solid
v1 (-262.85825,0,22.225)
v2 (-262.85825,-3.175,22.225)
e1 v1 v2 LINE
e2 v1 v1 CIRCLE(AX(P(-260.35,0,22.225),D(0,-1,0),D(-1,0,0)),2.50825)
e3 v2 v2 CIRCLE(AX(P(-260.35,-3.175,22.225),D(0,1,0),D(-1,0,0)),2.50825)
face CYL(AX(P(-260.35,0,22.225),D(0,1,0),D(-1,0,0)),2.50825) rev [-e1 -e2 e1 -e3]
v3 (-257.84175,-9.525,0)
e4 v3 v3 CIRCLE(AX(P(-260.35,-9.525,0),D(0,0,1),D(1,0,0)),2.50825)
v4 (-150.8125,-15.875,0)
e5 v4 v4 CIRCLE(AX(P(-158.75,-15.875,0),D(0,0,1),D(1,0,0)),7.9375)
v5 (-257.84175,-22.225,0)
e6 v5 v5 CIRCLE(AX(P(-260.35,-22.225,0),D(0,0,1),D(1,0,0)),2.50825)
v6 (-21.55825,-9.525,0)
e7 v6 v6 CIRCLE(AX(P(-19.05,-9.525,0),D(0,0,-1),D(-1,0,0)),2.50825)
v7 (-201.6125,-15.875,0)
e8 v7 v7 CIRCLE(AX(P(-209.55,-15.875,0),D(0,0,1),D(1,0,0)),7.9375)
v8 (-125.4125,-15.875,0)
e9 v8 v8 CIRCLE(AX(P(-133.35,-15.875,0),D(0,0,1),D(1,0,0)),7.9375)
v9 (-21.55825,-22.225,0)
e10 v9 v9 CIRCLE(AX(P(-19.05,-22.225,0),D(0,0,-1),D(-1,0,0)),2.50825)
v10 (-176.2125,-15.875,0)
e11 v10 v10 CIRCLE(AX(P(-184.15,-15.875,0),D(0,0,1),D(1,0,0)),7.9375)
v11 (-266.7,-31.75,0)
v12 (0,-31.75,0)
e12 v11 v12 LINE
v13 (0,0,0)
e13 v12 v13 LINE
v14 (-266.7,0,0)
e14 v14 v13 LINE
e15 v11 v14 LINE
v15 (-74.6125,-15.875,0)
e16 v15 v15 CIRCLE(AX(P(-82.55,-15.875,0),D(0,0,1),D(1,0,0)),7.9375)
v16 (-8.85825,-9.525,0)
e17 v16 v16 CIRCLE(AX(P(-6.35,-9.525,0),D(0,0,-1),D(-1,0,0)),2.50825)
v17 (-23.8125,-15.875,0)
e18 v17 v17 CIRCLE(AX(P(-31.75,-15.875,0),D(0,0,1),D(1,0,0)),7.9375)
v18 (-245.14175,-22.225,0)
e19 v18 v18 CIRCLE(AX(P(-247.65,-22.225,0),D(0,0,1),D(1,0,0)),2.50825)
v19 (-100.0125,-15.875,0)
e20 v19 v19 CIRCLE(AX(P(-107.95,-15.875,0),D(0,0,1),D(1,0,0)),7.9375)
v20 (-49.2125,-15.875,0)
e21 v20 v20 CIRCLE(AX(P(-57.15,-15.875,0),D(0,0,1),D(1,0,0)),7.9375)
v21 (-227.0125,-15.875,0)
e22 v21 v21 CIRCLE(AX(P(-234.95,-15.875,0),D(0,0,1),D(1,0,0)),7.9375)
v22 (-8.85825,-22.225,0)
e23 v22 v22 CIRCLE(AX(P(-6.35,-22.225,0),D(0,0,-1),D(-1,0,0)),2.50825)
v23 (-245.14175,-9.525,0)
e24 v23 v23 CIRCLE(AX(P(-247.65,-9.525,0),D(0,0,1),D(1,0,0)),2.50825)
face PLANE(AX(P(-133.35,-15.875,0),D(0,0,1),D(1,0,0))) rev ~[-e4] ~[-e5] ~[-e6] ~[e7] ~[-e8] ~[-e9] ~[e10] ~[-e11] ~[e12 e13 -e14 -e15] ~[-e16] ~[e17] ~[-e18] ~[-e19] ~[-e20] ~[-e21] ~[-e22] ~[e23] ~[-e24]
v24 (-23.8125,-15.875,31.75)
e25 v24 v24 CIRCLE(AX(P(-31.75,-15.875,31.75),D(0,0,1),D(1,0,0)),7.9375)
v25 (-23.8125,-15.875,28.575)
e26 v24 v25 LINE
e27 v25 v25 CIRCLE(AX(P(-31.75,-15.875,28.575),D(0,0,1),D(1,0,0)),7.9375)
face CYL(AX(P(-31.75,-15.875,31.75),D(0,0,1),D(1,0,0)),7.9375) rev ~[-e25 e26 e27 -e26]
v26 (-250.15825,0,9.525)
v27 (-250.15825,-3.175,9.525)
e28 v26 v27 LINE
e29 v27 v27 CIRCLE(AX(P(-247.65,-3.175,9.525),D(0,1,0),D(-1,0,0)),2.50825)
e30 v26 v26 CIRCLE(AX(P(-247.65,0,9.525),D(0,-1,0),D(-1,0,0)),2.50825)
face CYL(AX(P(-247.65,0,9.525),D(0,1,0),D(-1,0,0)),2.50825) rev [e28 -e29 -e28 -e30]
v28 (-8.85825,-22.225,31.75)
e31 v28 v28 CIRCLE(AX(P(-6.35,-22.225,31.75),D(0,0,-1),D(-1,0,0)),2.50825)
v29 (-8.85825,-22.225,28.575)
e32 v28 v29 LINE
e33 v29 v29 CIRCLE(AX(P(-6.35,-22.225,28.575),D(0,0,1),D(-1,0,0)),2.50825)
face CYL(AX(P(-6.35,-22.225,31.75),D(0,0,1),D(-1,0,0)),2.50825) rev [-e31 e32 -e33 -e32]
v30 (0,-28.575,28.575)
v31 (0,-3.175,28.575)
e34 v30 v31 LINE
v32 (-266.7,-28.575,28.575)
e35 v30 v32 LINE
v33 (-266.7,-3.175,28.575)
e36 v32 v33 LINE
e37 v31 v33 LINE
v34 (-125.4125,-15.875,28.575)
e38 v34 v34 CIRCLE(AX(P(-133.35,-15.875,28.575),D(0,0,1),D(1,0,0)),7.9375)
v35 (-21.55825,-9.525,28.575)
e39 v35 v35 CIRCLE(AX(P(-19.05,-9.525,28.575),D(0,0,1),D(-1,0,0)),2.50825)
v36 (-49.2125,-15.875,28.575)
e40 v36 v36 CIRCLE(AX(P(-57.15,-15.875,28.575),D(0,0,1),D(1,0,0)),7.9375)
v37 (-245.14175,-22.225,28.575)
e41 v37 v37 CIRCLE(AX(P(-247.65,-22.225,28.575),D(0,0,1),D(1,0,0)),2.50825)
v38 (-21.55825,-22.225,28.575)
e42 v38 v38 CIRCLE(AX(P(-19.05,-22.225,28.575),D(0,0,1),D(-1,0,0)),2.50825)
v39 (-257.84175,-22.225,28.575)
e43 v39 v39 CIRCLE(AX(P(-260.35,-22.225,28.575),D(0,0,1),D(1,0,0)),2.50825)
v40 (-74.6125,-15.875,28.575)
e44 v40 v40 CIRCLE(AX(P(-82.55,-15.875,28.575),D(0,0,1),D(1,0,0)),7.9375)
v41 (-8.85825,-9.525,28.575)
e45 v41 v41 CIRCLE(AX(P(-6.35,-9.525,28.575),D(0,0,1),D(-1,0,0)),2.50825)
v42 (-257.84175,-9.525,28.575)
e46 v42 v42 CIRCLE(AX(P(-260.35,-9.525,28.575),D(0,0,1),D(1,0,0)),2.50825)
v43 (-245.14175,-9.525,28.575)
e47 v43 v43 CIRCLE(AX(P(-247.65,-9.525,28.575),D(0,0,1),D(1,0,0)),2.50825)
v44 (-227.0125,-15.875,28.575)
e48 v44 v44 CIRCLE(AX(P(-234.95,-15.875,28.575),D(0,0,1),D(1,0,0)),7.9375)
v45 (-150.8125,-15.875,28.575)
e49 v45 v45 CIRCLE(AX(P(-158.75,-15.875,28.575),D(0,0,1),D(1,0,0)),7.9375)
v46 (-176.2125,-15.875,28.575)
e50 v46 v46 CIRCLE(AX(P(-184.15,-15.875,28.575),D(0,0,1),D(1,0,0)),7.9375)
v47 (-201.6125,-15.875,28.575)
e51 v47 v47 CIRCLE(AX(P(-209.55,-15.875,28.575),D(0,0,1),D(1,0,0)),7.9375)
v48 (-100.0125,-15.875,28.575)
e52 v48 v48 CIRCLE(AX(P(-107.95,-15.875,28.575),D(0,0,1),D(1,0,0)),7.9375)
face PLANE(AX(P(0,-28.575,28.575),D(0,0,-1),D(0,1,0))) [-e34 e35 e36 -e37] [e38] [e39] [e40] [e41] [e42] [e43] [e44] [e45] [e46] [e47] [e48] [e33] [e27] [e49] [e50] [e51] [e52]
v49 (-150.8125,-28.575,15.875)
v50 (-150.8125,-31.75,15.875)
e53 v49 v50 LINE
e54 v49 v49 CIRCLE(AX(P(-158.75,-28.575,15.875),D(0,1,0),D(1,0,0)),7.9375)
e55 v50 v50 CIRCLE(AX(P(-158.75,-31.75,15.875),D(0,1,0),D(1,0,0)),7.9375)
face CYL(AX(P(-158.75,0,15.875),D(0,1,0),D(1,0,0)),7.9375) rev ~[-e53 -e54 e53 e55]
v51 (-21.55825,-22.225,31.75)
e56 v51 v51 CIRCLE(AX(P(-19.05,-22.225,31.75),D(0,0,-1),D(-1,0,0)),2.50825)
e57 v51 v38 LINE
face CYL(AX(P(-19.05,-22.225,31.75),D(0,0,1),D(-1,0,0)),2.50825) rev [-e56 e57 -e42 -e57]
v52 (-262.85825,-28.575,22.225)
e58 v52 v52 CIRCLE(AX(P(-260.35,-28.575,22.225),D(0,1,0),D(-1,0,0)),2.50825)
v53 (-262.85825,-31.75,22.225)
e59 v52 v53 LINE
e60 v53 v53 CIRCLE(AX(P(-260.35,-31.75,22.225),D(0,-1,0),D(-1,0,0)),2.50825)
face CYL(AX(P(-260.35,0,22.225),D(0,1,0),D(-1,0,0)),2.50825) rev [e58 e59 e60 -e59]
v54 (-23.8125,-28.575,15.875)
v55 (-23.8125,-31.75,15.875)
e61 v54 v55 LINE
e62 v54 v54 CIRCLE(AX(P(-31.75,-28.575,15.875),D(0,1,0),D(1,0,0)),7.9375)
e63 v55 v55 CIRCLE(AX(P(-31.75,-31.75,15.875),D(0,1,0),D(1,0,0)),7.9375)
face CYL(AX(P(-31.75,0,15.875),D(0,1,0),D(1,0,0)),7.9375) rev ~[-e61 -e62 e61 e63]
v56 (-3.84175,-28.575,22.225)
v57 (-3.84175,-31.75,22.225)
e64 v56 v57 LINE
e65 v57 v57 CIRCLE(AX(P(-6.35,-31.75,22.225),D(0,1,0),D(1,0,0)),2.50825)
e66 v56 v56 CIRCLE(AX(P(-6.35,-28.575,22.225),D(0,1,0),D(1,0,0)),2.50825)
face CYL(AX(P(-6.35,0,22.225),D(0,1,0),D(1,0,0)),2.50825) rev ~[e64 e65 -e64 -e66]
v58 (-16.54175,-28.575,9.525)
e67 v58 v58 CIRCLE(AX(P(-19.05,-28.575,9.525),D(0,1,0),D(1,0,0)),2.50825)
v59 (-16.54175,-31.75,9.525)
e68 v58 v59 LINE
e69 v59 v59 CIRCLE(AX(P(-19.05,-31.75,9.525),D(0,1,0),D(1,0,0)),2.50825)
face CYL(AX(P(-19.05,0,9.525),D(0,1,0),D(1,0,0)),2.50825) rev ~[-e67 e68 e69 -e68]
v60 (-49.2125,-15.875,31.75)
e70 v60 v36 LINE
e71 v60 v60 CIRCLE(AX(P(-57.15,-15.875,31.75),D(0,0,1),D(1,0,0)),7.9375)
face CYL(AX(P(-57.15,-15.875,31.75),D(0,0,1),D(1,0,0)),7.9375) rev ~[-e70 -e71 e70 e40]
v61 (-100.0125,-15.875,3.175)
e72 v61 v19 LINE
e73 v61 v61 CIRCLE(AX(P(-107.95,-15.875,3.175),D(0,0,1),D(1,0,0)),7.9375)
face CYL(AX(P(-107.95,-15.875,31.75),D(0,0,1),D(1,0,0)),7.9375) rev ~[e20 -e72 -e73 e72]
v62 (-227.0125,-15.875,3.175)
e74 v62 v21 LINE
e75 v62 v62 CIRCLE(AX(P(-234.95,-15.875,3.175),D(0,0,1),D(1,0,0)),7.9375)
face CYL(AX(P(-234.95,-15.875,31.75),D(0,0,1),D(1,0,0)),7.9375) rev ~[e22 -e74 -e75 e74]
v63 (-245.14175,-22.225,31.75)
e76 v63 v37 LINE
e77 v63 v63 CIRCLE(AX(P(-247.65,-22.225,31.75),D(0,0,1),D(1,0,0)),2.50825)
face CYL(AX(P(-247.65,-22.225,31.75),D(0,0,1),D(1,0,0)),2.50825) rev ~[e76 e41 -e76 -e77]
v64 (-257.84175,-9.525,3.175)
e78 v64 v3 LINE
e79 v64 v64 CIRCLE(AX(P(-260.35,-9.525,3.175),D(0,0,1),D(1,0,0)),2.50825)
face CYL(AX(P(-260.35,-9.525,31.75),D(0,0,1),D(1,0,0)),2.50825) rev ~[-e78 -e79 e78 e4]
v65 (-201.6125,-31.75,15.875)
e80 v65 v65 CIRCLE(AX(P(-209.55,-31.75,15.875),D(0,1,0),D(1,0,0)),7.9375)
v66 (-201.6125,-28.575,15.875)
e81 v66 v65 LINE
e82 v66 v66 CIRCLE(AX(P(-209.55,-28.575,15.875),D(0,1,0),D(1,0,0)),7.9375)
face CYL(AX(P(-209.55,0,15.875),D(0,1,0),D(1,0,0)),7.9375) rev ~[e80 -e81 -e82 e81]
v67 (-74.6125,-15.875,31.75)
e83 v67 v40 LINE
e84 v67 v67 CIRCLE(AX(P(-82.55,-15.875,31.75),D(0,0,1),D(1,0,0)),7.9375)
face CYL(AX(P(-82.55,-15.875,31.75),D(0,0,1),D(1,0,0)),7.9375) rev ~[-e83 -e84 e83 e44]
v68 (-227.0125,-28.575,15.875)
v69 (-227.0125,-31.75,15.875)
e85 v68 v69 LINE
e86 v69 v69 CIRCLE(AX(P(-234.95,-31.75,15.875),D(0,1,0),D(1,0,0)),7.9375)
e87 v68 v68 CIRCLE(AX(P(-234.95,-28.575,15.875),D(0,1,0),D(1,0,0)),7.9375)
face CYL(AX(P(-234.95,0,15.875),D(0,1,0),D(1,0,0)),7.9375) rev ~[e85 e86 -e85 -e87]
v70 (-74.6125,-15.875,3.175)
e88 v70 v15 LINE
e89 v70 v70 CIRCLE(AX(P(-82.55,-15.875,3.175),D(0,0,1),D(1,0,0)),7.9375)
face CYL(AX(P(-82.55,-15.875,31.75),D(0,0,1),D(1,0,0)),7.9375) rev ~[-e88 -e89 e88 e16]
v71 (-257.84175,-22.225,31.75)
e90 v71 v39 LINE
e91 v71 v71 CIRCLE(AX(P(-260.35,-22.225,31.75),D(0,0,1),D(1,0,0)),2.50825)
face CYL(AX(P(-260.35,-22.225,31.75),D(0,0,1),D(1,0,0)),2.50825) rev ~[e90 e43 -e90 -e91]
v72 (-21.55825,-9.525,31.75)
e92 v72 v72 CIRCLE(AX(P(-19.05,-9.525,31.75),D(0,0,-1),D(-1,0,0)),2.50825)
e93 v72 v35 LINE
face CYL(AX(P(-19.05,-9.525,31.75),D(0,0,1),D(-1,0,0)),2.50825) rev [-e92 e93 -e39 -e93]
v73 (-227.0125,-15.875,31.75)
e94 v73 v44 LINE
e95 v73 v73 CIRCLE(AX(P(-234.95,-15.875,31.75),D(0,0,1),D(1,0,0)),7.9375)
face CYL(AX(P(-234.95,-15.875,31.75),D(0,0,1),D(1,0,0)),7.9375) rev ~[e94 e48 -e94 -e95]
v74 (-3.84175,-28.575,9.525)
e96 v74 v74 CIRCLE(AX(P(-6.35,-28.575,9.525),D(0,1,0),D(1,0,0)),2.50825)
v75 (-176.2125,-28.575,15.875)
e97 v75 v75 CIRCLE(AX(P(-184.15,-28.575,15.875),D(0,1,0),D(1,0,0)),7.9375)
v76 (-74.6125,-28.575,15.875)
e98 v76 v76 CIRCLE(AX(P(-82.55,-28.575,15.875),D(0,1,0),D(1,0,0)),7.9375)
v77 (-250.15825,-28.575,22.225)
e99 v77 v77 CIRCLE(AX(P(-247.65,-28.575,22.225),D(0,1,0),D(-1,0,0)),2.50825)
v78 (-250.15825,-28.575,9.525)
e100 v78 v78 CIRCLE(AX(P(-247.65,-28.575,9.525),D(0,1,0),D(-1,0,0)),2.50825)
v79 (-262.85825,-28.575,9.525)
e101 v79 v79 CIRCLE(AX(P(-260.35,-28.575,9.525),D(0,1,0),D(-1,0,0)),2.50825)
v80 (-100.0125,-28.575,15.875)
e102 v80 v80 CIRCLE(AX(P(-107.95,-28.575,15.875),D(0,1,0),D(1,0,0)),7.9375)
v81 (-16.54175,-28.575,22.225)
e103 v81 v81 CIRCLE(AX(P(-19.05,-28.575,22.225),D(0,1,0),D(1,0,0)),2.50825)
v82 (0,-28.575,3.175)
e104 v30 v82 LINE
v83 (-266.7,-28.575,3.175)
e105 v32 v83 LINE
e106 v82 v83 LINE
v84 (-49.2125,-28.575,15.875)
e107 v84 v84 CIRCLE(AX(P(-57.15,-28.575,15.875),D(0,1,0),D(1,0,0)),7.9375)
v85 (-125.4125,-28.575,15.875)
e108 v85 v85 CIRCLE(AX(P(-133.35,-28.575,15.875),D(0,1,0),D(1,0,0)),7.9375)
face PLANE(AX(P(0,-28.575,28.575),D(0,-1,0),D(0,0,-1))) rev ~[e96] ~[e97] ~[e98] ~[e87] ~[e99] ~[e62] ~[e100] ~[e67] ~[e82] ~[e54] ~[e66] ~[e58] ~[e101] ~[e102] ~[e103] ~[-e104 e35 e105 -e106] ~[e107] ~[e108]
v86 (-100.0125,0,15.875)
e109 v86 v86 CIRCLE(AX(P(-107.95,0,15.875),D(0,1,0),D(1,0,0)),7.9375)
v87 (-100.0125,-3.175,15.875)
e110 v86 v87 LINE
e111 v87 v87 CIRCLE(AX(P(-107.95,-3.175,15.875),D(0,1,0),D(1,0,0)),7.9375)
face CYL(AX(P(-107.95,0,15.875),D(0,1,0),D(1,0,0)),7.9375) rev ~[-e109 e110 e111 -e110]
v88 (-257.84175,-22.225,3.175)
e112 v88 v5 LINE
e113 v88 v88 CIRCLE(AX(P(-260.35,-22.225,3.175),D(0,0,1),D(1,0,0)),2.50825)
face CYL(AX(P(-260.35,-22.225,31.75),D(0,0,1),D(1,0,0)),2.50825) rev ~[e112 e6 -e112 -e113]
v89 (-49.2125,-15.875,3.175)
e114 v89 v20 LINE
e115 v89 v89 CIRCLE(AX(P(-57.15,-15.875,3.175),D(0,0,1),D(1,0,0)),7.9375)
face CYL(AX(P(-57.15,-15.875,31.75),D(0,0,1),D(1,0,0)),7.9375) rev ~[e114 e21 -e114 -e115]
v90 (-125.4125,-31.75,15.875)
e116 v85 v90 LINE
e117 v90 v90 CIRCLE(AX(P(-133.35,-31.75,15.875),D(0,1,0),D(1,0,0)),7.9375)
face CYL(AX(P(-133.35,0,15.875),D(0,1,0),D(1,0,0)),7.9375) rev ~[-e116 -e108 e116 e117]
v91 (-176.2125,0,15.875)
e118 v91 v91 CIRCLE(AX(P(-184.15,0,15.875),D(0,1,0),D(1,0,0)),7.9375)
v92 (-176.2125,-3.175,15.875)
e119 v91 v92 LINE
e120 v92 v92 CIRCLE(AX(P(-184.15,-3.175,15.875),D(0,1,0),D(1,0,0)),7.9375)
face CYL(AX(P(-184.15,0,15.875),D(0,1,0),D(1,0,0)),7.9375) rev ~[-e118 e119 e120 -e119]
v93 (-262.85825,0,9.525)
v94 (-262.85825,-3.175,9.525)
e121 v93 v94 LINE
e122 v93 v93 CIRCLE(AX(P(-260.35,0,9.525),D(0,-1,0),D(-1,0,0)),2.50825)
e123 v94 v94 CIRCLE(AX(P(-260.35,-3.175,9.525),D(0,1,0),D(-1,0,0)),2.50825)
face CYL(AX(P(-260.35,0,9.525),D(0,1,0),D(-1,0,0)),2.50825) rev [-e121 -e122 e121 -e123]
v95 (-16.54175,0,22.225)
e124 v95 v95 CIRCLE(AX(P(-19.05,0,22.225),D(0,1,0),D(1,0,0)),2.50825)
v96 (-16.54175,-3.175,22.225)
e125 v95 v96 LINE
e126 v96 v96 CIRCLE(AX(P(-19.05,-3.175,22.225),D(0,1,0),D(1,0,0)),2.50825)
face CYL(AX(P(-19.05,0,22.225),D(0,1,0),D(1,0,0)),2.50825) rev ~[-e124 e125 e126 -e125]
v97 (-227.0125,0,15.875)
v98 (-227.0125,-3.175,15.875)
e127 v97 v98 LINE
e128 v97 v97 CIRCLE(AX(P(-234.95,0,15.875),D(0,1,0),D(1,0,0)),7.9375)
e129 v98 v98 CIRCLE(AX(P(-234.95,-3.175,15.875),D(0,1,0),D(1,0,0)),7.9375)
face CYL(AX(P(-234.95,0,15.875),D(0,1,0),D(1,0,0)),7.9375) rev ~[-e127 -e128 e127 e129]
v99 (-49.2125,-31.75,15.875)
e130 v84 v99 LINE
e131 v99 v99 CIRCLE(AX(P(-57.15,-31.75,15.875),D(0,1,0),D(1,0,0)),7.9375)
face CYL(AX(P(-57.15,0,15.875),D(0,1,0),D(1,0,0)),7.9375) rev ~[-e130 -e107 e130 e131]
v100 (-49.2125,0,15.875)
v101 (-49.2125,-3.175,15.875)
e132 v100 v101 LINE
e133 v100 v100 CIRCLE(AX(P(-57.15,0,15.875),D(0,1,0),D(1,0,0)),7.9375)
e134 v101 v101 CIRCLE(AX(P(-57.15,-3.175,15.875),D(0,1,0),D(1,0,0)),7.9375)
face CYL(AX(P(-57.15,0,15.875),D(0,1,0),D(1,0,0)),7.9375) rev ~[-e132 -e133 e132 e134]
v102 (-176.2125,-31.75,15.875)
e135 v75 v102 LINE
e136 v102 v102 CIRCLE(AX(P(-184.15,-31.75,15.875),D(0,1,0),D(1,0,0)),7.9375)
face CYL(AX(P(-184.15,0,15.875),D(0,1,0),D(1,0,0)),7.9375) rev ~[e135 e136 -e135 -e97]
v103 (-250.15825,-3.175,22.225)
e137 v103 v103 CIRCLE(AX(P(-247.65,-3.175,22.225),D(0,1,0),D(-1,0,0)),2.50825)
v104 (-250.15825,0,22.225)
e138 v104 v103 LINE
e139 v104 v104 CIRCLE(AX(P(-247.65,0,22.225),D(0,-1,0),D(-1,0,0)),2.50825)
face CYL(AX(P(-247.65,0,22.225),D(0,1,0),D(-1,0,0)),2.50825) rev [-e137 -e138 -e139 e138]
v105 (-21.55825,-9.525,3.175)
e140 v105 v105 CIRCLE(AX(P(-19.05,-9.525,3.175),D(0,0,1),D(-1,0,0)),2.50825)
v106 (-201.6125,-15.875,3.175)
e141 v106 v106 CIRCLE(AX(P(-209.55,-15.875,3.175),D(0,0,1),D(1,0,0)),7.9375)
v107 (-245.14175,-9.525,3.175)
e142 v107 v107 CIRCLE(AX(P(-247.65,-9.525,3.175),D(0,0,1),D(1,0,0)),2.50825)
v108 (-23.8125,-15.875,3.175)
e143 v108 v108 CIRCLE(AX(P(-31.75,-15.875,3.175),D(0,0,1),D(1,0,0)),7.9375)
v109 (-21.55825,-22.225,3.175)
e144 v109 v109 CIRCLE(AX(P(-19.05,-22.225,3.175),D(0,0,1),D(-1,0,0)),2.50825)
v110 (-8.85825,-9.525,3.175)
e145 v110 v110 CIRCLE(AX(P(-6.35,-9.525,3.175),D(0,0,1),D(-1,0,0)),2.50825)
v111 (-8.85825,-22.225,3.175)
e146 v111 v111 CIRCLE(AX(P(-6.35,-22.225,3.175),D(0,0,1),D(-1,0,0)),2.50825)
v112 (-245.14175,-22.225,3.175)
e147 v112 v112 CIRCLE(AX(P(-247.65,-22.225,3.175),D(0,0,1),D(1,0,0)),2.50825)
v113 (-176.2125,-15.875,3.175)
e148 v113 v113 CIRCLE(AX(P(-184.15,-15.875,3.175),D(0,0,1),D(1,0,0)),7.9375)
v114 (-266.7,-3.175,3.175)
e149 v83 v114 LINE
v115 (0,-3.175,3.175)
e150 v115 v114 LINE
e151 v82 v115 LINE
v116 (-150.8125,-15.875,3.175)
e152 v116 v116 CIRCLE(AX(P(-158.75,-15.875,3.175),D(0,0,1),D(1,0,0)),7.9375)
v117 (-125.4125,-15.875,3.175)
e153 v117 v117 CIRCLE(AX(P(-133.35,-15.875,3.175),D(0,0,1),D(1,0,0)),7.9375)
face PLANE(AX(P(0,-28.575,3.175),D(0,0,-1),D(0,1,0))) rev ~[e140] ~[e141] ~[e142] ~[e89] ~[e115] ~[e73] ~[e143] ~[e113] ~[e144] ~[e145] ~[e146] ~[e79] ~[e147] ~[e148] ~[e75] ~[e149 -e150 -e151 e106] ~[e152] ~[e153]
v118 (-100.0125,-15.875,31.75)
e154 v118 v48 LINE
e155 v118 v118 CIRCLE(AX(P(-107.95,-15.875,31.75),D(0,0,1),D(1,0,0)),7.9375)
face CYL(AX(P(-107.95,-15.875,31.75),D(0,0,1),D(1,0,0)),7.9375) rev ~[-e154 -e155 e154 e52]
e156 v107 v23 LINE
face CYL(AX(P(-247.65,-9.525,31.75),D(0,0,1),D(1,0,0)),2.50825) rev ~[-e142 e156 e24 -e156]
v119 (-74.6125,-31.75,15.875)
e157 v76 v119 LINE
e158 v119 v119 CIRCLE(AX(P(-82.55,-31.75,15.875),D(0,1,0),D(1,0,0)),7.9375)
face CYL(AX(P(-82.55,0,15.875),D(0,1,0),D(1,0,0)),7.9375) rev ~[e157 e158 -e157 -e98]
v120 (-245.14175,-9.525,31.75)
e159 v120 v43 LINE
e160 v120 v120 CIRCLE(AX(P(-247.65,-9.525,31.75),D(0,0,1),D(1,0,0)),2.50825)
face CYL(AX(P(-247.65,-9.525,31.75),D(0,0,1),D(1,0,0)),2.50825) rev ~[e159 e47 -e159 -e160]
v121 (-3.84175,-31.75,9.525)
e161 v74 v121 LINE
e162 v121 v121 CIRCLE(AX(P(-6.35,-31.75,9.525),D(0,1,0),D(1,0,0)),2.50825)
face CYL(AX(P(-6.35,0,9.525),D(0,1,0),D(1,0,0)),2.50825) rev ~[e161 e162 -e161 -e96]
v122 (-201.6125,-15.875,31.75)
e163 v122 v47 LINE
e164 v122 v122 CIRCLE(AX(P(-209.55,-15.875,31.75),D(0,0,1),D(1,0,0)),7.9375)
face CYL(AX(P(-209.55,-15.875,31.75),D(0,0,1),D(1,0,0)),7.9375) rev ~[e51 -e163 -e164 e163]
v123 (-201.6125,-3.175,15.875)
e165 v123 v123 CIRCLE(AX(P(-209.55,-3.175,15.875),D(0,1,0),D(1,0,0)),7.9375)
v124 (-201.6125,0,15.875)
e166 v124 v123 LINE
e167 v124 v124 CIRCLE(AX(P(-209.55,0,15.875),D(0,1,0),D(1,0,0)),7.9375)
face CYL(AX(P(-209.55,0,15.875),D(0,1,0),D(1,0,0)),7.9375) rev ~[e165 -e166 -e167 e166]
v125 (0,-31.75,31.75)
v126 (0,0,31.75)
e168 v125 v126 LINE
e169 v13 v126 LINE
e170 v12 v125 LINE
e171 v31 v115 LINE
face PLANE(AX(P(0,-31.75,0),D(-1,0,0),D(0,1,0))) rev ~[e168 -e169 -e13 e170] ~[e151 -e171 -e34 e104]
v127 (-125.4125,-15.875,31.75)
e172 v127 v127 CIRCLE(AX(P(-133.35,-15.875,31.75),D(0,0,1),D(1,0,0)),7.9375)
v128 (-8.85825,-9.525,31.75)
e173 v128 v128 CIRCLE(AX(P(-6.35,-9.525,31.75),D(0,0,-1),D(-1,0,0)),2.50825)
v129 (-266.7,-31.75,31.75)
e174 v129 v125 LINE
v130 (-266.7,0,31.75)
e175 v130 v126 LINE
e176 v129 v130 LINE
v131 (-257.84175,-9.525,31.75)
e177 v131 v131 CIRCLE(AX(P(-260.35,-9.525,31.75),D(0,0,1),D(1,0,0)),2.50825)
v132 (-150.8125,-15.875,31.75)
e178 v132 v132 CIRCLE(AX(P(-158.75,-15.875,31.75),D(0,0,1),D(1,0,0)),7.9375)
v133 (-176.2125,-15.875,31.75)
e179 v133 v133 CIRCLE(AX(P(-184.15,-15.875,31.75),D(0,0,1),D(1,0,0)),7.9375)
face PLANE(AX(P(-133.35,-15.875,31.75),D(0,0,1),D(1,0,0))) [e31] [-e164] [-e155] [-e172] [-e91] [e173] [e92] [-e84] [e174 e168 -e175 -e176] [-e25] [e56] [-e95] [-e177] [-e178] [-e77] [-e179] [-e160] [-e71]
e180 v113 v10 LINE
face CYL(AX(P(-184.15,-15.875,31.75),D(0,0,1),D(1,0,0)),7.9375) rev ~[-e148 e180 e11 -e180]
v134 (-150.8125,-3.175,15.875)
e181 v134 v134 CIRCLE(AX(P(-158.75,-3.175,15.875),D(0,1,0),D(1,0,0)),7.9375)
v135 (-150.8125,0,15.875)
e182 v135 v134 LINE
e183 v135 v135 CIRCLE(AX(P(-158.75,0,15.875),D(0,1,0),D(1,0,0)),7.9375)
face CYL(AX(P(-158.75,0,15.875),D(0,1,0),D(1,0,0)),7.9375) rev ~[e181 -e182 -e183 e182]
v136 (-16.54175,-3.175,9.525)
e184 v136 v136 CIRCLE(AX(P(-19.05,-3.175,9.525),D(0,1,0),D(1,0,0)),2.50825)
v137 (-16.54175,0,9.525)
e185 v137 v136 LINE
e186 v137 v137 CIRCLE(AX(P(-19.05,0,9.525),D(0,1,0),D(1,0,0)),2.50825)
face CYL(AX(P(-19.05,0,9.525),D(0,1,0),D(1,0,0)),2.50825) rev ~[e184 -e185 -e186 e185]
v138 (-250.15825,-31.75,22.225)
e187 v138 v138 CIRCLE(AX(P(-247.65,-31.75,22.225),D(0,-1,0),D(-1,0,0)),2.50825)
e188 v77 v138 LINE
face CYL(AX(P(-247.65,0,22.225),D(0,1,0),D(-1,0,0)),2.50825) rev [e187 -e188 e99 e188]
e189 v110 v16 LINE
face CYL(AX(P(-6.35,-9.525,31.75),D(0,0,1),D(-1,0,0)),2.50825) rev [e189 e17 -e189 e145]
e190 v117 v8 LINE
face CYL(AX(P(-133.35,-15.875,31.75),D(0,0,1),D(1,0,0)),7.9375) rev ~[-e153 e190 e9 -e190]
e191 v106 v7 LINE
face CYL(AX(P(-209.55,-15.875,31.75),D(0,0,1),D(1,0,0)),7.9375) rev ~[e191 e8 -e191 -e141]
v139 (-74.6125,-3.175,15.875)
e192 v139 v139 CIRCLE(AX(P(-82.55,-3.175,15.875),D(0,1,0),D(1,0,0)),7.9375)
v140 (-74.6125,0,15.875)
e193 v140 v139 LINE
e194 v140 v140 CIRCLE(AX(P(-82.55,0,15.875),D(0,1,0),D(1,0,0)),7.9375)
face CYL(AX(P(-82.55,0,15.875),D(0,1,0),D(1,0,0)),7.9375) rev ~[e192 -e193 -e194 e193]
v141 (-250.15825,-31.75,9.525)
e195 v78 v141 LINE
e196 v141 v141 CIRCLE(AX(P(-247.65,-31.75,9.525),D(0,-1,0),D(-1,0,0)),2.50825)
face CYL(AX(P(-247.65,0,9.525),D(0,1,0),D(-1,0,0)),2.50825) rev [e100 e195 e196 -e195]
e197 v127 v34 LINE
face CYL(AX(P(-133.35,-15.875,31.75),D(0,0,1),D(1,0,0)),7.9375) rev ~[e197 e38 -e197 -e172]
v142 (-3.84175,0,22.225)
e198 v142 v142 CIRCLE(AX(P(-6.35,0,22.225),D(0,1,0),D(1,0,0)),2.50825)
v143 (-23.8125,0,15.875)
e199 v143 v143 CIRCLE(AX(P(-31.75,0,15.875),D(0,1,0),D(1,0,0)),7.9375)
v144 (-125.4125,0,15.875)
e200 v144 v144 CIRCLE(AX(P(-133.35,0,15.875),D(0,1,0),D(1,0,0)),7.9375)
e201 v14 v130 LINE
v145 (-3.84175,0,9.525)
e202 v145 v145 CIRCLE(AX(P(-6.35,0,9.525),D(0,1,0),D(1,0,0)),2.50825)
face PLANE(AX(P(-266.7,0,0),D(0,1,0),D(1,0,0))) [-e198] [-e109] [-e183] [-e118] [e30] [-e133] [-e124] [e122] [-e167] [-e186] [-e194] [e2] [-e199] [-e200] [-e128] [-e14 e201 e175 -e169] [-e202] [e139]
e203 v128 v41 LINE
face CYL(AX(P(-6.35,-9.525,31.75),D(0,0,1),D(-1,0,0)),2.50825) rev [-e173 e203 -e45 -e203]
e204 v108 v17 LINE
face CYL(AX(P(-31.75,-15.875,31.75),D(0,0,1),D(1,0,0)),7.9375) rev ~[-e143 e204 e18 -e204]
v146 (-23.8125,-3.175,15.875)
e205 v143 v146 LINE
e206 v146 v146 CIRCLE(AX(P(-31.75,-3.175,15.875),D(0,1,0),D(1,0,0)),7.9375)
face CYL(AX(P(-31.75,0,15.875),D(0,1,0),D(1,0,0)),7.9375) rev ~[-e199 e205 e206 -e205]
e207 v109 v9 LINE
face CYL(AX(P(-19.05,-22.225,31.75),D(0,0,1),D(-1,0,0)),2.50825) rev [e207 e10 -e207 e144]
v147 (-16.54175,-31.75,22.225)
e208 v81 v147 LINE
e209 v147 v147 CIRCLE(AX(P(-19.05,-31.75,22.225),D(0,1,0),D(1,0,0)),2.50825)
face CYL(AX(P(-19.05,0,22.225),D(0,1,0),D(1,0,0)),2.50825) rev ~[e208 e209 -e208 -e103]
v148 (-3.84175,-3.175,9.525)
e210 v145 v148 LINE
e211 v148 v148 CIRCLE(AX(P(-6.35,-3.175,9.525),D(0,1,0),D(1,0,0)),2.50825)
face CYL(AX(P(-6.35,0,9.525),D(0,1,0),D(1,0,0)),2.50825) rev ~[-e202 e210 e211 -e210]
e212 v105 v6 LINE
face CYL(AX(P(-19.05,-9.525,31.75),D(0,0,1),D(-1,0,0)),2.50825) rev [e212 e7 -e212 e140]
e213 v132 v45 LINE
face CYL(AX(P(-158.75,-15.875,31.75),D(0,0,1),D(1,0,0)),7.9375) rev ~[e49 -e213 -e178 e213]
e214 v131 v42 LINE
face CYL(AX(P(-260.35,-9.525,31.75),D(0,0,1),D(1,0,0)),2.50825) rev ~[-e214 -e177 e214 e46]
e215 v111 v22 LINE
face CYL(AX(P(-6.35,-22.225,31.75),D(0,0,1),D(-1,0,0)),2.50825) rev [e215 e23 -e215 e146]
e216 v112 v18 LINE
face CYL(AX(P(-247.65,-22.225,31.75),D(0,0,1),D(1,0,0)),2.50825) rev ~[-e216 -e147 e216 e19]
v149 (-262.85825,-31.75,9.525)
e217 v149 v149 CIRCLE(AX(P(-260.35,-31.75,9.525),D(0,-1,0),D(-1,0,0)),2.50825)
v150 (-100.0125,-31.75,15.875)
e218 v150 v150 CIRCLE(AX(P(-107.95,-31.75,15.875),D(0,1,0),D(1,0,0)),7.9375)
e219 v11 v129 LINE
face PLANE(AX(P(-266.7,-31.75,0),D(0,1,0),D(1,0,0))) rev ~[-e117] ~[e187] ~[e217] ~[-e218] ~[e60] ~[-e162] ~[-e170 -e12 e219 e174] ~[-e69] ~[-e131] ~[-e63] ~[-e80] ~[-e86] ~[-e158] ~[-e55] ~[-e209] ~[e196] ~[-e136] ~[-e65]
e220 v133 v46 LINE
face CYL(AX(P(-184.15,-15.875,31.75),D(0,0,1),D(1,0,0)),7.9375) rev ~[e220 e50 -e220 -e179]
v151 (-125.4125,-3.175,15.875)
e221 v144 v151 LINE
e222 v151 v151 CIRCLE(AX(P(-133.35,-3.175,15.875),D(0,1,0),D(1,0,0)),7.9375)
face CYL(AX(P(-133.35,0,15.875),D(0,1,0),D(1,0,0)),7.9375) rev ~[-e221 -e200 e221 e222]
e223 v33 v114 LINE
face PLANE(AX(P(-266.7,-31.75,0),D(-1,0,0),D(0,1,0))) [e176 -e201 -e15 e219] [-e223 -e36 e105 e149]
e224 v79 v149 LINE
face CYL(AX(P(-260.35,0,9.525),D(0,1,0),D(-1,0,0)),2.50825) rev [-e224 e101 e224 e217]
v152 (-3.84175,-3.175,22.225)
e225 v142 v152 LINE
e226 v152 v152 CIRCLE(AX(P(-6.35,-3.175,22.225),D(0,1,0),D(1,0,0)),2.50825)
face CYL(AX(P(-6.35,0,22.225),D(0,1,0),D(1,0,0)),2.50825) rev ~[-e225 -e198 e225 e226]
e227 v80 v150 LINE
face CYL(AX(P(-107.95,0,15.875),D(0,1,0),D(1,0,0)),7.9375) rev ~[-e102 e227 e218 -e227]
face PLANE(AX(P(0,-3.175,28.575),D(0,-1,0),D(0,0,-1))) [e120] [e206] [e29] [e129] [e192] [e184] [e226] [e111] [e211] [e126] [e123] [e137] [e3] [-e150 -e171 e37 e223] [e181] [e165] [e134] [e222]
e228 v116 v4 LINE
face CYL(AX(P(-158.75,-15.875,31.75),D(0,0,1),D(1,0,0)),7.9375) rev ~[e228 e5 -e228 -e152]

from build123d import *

# Parameters (mm, degrees)
SKETCH1_W           = 266.7
SKETCH1_H           = 31.75
BOSS_EXTRUDE1_DEPTH = 31.75
SKETCH2_R           = 7.9375
CUT_EXTRUDE1_DEPTH  = 31.75
LPATTERN1_COUNT     = 9
LPATTERN1_PITCH     = 25.4
SKETCH3_R           = 2.50825
CUT_EXTRUDE2_DEPTH  = 31.75
SKETCH4_W           = 25.4
SKETCH4_H           = 25.4
CUT_EXTRUDE3_DEPTH  = 266.7
SKETCH5_R           = 7.9375
CUT_EXTRUDE4_DEPTH  = 31.75
LPATTERN2_COUNT     = 9
LPATTERN2_PITCH     = 25.4
SKETCH6_R           = 2.50825
CUT_EXTRUDE5_DEPTH  = 31.75


with BuildPart() as part:
    # Sketch1 → Boss-Extrude1 (new body)
    with BuildSketch(Plane.XY):
        with Locations((-133.35, -15.875)):
            Rectangle(SKETCH1_W, SKETCH1_H)
    extrude(amount=BOSS_EXTRUDE1_DEPTH)

    # Sketch2 → Cut-Extrude1 (cut)
    with BuildSketch(Plane.XY.offset(31.75)):
        with Locations((-234.95, -15.875)):
            Circle(SKETCH2_R)
    cut_extrude1 = extrude(amount=-CUT_EXTRUDE1_DEPTH, mode=Mode.SUBTRACT)

    # LPattern1: Cut-Extrude1 ×9
    with Locations(*[(i * LPATTERN1_PITCH, 0, 0) for i in range(1, LPATTERN1_COUNT)]):
        add(cut_extrude1, mode=Mode.SUBTRACT)

    # Sketch3 → Cut-Extrude2 (cut)
    with BuildSketch(Plane.XY.offset(31.75)):
        with Locations((-260.35, -9.525)):
            Circle(SKETCH3_R)
        with Locations((-247.65, -9.525)):
            Circle(SKETCH3_R)
        with Locations((-260.35, -22.225)):
            Circle(SKETCH3_R)
        with Locations((-247.65, -22.225)):
            Circle(SKETCH3_R)
    cut_extrude2 = extrude(amount=-CUT_EXTRUDE2_DEPTH, mode=Mode.SUBTRACT)

    # Sketch4 → Cut-Extrude3 (cut)
    with BuildSketch(Plane(origin=(0, 0, 0), x_dir=(0, 0, -1), z_dir=(1, 0, 0))):
        with Locations((-15.875, -15.875)):
            Rectangle(SKETCH4_W, SKETCH4_H)
    extrude(amount=-CUT_EXTRUDE3_DEPTH, mode=Mode.SUBTRACT)

    # Mirror1: Cut-Extrude2 across plane
    add(cut_extrude2.mirror(Plane(origin=(-133.35, 0, 0), x_dir=(0, 0, 1), z_dir=(1, 0, 0))), mode=Mode.SUBTRACT)

    # Sketch5 → Cut-Extrude4 (cut)
    with BuildSketch(Plane(origin=(0, 0, 0), x_dir=(1, 0, 0), z_dir=(0, 1, 0))):
        with Locations((-31.75, -15.875)):
            Circle(SKETCH5_R)
    cut_extrude4 = extrude(amount=-CUT_EXTRUDE4_DEPTH, mode=Mode.SUBTRACT)

    # LPattern2: Cut-Extrude4 ×9
    with Locations(*[(-i * LPATTERN2_PITCH, 0, 0) for i in range(1, LPATTERN2_COUNT)]):
        add(cut_extrude4, mode=Mode.SUBTRACT)

    # Sketch6 → Cut-Extrude5 (cut)
    with BuildSketch(Plane(origin=(0, 0, 0), x_dir=(1, 0, 0), z_dir=(0, 1, 0))):
        with Locations((-19.05, -9.525)):
            Circle(SKETCH6_R)
        with Locations((-6.35, -9.525)):
            Circle(SKETCH6_R)
        with Locations((-19.05, -22.225)):
            Circle(SKETCH6_R)
        with Locations((-6.35, -22.225)):
            Circle(SKETCH6_R)
    cut_extrude5 = extrude(amount=-CUT_EXTRUDE5_DEPTH, mode=Mode.SUBTRACT)

    # Mirror2: Cut-Extrude5 across plane
    add(cut_extrude5.mirror(Plane(origin=(-133.35, 0, 0), x_dir=(0, 0, 1), z_dir=(1, 0, 0))), mode=Mode.SUBTRACT)


solid = part.part
